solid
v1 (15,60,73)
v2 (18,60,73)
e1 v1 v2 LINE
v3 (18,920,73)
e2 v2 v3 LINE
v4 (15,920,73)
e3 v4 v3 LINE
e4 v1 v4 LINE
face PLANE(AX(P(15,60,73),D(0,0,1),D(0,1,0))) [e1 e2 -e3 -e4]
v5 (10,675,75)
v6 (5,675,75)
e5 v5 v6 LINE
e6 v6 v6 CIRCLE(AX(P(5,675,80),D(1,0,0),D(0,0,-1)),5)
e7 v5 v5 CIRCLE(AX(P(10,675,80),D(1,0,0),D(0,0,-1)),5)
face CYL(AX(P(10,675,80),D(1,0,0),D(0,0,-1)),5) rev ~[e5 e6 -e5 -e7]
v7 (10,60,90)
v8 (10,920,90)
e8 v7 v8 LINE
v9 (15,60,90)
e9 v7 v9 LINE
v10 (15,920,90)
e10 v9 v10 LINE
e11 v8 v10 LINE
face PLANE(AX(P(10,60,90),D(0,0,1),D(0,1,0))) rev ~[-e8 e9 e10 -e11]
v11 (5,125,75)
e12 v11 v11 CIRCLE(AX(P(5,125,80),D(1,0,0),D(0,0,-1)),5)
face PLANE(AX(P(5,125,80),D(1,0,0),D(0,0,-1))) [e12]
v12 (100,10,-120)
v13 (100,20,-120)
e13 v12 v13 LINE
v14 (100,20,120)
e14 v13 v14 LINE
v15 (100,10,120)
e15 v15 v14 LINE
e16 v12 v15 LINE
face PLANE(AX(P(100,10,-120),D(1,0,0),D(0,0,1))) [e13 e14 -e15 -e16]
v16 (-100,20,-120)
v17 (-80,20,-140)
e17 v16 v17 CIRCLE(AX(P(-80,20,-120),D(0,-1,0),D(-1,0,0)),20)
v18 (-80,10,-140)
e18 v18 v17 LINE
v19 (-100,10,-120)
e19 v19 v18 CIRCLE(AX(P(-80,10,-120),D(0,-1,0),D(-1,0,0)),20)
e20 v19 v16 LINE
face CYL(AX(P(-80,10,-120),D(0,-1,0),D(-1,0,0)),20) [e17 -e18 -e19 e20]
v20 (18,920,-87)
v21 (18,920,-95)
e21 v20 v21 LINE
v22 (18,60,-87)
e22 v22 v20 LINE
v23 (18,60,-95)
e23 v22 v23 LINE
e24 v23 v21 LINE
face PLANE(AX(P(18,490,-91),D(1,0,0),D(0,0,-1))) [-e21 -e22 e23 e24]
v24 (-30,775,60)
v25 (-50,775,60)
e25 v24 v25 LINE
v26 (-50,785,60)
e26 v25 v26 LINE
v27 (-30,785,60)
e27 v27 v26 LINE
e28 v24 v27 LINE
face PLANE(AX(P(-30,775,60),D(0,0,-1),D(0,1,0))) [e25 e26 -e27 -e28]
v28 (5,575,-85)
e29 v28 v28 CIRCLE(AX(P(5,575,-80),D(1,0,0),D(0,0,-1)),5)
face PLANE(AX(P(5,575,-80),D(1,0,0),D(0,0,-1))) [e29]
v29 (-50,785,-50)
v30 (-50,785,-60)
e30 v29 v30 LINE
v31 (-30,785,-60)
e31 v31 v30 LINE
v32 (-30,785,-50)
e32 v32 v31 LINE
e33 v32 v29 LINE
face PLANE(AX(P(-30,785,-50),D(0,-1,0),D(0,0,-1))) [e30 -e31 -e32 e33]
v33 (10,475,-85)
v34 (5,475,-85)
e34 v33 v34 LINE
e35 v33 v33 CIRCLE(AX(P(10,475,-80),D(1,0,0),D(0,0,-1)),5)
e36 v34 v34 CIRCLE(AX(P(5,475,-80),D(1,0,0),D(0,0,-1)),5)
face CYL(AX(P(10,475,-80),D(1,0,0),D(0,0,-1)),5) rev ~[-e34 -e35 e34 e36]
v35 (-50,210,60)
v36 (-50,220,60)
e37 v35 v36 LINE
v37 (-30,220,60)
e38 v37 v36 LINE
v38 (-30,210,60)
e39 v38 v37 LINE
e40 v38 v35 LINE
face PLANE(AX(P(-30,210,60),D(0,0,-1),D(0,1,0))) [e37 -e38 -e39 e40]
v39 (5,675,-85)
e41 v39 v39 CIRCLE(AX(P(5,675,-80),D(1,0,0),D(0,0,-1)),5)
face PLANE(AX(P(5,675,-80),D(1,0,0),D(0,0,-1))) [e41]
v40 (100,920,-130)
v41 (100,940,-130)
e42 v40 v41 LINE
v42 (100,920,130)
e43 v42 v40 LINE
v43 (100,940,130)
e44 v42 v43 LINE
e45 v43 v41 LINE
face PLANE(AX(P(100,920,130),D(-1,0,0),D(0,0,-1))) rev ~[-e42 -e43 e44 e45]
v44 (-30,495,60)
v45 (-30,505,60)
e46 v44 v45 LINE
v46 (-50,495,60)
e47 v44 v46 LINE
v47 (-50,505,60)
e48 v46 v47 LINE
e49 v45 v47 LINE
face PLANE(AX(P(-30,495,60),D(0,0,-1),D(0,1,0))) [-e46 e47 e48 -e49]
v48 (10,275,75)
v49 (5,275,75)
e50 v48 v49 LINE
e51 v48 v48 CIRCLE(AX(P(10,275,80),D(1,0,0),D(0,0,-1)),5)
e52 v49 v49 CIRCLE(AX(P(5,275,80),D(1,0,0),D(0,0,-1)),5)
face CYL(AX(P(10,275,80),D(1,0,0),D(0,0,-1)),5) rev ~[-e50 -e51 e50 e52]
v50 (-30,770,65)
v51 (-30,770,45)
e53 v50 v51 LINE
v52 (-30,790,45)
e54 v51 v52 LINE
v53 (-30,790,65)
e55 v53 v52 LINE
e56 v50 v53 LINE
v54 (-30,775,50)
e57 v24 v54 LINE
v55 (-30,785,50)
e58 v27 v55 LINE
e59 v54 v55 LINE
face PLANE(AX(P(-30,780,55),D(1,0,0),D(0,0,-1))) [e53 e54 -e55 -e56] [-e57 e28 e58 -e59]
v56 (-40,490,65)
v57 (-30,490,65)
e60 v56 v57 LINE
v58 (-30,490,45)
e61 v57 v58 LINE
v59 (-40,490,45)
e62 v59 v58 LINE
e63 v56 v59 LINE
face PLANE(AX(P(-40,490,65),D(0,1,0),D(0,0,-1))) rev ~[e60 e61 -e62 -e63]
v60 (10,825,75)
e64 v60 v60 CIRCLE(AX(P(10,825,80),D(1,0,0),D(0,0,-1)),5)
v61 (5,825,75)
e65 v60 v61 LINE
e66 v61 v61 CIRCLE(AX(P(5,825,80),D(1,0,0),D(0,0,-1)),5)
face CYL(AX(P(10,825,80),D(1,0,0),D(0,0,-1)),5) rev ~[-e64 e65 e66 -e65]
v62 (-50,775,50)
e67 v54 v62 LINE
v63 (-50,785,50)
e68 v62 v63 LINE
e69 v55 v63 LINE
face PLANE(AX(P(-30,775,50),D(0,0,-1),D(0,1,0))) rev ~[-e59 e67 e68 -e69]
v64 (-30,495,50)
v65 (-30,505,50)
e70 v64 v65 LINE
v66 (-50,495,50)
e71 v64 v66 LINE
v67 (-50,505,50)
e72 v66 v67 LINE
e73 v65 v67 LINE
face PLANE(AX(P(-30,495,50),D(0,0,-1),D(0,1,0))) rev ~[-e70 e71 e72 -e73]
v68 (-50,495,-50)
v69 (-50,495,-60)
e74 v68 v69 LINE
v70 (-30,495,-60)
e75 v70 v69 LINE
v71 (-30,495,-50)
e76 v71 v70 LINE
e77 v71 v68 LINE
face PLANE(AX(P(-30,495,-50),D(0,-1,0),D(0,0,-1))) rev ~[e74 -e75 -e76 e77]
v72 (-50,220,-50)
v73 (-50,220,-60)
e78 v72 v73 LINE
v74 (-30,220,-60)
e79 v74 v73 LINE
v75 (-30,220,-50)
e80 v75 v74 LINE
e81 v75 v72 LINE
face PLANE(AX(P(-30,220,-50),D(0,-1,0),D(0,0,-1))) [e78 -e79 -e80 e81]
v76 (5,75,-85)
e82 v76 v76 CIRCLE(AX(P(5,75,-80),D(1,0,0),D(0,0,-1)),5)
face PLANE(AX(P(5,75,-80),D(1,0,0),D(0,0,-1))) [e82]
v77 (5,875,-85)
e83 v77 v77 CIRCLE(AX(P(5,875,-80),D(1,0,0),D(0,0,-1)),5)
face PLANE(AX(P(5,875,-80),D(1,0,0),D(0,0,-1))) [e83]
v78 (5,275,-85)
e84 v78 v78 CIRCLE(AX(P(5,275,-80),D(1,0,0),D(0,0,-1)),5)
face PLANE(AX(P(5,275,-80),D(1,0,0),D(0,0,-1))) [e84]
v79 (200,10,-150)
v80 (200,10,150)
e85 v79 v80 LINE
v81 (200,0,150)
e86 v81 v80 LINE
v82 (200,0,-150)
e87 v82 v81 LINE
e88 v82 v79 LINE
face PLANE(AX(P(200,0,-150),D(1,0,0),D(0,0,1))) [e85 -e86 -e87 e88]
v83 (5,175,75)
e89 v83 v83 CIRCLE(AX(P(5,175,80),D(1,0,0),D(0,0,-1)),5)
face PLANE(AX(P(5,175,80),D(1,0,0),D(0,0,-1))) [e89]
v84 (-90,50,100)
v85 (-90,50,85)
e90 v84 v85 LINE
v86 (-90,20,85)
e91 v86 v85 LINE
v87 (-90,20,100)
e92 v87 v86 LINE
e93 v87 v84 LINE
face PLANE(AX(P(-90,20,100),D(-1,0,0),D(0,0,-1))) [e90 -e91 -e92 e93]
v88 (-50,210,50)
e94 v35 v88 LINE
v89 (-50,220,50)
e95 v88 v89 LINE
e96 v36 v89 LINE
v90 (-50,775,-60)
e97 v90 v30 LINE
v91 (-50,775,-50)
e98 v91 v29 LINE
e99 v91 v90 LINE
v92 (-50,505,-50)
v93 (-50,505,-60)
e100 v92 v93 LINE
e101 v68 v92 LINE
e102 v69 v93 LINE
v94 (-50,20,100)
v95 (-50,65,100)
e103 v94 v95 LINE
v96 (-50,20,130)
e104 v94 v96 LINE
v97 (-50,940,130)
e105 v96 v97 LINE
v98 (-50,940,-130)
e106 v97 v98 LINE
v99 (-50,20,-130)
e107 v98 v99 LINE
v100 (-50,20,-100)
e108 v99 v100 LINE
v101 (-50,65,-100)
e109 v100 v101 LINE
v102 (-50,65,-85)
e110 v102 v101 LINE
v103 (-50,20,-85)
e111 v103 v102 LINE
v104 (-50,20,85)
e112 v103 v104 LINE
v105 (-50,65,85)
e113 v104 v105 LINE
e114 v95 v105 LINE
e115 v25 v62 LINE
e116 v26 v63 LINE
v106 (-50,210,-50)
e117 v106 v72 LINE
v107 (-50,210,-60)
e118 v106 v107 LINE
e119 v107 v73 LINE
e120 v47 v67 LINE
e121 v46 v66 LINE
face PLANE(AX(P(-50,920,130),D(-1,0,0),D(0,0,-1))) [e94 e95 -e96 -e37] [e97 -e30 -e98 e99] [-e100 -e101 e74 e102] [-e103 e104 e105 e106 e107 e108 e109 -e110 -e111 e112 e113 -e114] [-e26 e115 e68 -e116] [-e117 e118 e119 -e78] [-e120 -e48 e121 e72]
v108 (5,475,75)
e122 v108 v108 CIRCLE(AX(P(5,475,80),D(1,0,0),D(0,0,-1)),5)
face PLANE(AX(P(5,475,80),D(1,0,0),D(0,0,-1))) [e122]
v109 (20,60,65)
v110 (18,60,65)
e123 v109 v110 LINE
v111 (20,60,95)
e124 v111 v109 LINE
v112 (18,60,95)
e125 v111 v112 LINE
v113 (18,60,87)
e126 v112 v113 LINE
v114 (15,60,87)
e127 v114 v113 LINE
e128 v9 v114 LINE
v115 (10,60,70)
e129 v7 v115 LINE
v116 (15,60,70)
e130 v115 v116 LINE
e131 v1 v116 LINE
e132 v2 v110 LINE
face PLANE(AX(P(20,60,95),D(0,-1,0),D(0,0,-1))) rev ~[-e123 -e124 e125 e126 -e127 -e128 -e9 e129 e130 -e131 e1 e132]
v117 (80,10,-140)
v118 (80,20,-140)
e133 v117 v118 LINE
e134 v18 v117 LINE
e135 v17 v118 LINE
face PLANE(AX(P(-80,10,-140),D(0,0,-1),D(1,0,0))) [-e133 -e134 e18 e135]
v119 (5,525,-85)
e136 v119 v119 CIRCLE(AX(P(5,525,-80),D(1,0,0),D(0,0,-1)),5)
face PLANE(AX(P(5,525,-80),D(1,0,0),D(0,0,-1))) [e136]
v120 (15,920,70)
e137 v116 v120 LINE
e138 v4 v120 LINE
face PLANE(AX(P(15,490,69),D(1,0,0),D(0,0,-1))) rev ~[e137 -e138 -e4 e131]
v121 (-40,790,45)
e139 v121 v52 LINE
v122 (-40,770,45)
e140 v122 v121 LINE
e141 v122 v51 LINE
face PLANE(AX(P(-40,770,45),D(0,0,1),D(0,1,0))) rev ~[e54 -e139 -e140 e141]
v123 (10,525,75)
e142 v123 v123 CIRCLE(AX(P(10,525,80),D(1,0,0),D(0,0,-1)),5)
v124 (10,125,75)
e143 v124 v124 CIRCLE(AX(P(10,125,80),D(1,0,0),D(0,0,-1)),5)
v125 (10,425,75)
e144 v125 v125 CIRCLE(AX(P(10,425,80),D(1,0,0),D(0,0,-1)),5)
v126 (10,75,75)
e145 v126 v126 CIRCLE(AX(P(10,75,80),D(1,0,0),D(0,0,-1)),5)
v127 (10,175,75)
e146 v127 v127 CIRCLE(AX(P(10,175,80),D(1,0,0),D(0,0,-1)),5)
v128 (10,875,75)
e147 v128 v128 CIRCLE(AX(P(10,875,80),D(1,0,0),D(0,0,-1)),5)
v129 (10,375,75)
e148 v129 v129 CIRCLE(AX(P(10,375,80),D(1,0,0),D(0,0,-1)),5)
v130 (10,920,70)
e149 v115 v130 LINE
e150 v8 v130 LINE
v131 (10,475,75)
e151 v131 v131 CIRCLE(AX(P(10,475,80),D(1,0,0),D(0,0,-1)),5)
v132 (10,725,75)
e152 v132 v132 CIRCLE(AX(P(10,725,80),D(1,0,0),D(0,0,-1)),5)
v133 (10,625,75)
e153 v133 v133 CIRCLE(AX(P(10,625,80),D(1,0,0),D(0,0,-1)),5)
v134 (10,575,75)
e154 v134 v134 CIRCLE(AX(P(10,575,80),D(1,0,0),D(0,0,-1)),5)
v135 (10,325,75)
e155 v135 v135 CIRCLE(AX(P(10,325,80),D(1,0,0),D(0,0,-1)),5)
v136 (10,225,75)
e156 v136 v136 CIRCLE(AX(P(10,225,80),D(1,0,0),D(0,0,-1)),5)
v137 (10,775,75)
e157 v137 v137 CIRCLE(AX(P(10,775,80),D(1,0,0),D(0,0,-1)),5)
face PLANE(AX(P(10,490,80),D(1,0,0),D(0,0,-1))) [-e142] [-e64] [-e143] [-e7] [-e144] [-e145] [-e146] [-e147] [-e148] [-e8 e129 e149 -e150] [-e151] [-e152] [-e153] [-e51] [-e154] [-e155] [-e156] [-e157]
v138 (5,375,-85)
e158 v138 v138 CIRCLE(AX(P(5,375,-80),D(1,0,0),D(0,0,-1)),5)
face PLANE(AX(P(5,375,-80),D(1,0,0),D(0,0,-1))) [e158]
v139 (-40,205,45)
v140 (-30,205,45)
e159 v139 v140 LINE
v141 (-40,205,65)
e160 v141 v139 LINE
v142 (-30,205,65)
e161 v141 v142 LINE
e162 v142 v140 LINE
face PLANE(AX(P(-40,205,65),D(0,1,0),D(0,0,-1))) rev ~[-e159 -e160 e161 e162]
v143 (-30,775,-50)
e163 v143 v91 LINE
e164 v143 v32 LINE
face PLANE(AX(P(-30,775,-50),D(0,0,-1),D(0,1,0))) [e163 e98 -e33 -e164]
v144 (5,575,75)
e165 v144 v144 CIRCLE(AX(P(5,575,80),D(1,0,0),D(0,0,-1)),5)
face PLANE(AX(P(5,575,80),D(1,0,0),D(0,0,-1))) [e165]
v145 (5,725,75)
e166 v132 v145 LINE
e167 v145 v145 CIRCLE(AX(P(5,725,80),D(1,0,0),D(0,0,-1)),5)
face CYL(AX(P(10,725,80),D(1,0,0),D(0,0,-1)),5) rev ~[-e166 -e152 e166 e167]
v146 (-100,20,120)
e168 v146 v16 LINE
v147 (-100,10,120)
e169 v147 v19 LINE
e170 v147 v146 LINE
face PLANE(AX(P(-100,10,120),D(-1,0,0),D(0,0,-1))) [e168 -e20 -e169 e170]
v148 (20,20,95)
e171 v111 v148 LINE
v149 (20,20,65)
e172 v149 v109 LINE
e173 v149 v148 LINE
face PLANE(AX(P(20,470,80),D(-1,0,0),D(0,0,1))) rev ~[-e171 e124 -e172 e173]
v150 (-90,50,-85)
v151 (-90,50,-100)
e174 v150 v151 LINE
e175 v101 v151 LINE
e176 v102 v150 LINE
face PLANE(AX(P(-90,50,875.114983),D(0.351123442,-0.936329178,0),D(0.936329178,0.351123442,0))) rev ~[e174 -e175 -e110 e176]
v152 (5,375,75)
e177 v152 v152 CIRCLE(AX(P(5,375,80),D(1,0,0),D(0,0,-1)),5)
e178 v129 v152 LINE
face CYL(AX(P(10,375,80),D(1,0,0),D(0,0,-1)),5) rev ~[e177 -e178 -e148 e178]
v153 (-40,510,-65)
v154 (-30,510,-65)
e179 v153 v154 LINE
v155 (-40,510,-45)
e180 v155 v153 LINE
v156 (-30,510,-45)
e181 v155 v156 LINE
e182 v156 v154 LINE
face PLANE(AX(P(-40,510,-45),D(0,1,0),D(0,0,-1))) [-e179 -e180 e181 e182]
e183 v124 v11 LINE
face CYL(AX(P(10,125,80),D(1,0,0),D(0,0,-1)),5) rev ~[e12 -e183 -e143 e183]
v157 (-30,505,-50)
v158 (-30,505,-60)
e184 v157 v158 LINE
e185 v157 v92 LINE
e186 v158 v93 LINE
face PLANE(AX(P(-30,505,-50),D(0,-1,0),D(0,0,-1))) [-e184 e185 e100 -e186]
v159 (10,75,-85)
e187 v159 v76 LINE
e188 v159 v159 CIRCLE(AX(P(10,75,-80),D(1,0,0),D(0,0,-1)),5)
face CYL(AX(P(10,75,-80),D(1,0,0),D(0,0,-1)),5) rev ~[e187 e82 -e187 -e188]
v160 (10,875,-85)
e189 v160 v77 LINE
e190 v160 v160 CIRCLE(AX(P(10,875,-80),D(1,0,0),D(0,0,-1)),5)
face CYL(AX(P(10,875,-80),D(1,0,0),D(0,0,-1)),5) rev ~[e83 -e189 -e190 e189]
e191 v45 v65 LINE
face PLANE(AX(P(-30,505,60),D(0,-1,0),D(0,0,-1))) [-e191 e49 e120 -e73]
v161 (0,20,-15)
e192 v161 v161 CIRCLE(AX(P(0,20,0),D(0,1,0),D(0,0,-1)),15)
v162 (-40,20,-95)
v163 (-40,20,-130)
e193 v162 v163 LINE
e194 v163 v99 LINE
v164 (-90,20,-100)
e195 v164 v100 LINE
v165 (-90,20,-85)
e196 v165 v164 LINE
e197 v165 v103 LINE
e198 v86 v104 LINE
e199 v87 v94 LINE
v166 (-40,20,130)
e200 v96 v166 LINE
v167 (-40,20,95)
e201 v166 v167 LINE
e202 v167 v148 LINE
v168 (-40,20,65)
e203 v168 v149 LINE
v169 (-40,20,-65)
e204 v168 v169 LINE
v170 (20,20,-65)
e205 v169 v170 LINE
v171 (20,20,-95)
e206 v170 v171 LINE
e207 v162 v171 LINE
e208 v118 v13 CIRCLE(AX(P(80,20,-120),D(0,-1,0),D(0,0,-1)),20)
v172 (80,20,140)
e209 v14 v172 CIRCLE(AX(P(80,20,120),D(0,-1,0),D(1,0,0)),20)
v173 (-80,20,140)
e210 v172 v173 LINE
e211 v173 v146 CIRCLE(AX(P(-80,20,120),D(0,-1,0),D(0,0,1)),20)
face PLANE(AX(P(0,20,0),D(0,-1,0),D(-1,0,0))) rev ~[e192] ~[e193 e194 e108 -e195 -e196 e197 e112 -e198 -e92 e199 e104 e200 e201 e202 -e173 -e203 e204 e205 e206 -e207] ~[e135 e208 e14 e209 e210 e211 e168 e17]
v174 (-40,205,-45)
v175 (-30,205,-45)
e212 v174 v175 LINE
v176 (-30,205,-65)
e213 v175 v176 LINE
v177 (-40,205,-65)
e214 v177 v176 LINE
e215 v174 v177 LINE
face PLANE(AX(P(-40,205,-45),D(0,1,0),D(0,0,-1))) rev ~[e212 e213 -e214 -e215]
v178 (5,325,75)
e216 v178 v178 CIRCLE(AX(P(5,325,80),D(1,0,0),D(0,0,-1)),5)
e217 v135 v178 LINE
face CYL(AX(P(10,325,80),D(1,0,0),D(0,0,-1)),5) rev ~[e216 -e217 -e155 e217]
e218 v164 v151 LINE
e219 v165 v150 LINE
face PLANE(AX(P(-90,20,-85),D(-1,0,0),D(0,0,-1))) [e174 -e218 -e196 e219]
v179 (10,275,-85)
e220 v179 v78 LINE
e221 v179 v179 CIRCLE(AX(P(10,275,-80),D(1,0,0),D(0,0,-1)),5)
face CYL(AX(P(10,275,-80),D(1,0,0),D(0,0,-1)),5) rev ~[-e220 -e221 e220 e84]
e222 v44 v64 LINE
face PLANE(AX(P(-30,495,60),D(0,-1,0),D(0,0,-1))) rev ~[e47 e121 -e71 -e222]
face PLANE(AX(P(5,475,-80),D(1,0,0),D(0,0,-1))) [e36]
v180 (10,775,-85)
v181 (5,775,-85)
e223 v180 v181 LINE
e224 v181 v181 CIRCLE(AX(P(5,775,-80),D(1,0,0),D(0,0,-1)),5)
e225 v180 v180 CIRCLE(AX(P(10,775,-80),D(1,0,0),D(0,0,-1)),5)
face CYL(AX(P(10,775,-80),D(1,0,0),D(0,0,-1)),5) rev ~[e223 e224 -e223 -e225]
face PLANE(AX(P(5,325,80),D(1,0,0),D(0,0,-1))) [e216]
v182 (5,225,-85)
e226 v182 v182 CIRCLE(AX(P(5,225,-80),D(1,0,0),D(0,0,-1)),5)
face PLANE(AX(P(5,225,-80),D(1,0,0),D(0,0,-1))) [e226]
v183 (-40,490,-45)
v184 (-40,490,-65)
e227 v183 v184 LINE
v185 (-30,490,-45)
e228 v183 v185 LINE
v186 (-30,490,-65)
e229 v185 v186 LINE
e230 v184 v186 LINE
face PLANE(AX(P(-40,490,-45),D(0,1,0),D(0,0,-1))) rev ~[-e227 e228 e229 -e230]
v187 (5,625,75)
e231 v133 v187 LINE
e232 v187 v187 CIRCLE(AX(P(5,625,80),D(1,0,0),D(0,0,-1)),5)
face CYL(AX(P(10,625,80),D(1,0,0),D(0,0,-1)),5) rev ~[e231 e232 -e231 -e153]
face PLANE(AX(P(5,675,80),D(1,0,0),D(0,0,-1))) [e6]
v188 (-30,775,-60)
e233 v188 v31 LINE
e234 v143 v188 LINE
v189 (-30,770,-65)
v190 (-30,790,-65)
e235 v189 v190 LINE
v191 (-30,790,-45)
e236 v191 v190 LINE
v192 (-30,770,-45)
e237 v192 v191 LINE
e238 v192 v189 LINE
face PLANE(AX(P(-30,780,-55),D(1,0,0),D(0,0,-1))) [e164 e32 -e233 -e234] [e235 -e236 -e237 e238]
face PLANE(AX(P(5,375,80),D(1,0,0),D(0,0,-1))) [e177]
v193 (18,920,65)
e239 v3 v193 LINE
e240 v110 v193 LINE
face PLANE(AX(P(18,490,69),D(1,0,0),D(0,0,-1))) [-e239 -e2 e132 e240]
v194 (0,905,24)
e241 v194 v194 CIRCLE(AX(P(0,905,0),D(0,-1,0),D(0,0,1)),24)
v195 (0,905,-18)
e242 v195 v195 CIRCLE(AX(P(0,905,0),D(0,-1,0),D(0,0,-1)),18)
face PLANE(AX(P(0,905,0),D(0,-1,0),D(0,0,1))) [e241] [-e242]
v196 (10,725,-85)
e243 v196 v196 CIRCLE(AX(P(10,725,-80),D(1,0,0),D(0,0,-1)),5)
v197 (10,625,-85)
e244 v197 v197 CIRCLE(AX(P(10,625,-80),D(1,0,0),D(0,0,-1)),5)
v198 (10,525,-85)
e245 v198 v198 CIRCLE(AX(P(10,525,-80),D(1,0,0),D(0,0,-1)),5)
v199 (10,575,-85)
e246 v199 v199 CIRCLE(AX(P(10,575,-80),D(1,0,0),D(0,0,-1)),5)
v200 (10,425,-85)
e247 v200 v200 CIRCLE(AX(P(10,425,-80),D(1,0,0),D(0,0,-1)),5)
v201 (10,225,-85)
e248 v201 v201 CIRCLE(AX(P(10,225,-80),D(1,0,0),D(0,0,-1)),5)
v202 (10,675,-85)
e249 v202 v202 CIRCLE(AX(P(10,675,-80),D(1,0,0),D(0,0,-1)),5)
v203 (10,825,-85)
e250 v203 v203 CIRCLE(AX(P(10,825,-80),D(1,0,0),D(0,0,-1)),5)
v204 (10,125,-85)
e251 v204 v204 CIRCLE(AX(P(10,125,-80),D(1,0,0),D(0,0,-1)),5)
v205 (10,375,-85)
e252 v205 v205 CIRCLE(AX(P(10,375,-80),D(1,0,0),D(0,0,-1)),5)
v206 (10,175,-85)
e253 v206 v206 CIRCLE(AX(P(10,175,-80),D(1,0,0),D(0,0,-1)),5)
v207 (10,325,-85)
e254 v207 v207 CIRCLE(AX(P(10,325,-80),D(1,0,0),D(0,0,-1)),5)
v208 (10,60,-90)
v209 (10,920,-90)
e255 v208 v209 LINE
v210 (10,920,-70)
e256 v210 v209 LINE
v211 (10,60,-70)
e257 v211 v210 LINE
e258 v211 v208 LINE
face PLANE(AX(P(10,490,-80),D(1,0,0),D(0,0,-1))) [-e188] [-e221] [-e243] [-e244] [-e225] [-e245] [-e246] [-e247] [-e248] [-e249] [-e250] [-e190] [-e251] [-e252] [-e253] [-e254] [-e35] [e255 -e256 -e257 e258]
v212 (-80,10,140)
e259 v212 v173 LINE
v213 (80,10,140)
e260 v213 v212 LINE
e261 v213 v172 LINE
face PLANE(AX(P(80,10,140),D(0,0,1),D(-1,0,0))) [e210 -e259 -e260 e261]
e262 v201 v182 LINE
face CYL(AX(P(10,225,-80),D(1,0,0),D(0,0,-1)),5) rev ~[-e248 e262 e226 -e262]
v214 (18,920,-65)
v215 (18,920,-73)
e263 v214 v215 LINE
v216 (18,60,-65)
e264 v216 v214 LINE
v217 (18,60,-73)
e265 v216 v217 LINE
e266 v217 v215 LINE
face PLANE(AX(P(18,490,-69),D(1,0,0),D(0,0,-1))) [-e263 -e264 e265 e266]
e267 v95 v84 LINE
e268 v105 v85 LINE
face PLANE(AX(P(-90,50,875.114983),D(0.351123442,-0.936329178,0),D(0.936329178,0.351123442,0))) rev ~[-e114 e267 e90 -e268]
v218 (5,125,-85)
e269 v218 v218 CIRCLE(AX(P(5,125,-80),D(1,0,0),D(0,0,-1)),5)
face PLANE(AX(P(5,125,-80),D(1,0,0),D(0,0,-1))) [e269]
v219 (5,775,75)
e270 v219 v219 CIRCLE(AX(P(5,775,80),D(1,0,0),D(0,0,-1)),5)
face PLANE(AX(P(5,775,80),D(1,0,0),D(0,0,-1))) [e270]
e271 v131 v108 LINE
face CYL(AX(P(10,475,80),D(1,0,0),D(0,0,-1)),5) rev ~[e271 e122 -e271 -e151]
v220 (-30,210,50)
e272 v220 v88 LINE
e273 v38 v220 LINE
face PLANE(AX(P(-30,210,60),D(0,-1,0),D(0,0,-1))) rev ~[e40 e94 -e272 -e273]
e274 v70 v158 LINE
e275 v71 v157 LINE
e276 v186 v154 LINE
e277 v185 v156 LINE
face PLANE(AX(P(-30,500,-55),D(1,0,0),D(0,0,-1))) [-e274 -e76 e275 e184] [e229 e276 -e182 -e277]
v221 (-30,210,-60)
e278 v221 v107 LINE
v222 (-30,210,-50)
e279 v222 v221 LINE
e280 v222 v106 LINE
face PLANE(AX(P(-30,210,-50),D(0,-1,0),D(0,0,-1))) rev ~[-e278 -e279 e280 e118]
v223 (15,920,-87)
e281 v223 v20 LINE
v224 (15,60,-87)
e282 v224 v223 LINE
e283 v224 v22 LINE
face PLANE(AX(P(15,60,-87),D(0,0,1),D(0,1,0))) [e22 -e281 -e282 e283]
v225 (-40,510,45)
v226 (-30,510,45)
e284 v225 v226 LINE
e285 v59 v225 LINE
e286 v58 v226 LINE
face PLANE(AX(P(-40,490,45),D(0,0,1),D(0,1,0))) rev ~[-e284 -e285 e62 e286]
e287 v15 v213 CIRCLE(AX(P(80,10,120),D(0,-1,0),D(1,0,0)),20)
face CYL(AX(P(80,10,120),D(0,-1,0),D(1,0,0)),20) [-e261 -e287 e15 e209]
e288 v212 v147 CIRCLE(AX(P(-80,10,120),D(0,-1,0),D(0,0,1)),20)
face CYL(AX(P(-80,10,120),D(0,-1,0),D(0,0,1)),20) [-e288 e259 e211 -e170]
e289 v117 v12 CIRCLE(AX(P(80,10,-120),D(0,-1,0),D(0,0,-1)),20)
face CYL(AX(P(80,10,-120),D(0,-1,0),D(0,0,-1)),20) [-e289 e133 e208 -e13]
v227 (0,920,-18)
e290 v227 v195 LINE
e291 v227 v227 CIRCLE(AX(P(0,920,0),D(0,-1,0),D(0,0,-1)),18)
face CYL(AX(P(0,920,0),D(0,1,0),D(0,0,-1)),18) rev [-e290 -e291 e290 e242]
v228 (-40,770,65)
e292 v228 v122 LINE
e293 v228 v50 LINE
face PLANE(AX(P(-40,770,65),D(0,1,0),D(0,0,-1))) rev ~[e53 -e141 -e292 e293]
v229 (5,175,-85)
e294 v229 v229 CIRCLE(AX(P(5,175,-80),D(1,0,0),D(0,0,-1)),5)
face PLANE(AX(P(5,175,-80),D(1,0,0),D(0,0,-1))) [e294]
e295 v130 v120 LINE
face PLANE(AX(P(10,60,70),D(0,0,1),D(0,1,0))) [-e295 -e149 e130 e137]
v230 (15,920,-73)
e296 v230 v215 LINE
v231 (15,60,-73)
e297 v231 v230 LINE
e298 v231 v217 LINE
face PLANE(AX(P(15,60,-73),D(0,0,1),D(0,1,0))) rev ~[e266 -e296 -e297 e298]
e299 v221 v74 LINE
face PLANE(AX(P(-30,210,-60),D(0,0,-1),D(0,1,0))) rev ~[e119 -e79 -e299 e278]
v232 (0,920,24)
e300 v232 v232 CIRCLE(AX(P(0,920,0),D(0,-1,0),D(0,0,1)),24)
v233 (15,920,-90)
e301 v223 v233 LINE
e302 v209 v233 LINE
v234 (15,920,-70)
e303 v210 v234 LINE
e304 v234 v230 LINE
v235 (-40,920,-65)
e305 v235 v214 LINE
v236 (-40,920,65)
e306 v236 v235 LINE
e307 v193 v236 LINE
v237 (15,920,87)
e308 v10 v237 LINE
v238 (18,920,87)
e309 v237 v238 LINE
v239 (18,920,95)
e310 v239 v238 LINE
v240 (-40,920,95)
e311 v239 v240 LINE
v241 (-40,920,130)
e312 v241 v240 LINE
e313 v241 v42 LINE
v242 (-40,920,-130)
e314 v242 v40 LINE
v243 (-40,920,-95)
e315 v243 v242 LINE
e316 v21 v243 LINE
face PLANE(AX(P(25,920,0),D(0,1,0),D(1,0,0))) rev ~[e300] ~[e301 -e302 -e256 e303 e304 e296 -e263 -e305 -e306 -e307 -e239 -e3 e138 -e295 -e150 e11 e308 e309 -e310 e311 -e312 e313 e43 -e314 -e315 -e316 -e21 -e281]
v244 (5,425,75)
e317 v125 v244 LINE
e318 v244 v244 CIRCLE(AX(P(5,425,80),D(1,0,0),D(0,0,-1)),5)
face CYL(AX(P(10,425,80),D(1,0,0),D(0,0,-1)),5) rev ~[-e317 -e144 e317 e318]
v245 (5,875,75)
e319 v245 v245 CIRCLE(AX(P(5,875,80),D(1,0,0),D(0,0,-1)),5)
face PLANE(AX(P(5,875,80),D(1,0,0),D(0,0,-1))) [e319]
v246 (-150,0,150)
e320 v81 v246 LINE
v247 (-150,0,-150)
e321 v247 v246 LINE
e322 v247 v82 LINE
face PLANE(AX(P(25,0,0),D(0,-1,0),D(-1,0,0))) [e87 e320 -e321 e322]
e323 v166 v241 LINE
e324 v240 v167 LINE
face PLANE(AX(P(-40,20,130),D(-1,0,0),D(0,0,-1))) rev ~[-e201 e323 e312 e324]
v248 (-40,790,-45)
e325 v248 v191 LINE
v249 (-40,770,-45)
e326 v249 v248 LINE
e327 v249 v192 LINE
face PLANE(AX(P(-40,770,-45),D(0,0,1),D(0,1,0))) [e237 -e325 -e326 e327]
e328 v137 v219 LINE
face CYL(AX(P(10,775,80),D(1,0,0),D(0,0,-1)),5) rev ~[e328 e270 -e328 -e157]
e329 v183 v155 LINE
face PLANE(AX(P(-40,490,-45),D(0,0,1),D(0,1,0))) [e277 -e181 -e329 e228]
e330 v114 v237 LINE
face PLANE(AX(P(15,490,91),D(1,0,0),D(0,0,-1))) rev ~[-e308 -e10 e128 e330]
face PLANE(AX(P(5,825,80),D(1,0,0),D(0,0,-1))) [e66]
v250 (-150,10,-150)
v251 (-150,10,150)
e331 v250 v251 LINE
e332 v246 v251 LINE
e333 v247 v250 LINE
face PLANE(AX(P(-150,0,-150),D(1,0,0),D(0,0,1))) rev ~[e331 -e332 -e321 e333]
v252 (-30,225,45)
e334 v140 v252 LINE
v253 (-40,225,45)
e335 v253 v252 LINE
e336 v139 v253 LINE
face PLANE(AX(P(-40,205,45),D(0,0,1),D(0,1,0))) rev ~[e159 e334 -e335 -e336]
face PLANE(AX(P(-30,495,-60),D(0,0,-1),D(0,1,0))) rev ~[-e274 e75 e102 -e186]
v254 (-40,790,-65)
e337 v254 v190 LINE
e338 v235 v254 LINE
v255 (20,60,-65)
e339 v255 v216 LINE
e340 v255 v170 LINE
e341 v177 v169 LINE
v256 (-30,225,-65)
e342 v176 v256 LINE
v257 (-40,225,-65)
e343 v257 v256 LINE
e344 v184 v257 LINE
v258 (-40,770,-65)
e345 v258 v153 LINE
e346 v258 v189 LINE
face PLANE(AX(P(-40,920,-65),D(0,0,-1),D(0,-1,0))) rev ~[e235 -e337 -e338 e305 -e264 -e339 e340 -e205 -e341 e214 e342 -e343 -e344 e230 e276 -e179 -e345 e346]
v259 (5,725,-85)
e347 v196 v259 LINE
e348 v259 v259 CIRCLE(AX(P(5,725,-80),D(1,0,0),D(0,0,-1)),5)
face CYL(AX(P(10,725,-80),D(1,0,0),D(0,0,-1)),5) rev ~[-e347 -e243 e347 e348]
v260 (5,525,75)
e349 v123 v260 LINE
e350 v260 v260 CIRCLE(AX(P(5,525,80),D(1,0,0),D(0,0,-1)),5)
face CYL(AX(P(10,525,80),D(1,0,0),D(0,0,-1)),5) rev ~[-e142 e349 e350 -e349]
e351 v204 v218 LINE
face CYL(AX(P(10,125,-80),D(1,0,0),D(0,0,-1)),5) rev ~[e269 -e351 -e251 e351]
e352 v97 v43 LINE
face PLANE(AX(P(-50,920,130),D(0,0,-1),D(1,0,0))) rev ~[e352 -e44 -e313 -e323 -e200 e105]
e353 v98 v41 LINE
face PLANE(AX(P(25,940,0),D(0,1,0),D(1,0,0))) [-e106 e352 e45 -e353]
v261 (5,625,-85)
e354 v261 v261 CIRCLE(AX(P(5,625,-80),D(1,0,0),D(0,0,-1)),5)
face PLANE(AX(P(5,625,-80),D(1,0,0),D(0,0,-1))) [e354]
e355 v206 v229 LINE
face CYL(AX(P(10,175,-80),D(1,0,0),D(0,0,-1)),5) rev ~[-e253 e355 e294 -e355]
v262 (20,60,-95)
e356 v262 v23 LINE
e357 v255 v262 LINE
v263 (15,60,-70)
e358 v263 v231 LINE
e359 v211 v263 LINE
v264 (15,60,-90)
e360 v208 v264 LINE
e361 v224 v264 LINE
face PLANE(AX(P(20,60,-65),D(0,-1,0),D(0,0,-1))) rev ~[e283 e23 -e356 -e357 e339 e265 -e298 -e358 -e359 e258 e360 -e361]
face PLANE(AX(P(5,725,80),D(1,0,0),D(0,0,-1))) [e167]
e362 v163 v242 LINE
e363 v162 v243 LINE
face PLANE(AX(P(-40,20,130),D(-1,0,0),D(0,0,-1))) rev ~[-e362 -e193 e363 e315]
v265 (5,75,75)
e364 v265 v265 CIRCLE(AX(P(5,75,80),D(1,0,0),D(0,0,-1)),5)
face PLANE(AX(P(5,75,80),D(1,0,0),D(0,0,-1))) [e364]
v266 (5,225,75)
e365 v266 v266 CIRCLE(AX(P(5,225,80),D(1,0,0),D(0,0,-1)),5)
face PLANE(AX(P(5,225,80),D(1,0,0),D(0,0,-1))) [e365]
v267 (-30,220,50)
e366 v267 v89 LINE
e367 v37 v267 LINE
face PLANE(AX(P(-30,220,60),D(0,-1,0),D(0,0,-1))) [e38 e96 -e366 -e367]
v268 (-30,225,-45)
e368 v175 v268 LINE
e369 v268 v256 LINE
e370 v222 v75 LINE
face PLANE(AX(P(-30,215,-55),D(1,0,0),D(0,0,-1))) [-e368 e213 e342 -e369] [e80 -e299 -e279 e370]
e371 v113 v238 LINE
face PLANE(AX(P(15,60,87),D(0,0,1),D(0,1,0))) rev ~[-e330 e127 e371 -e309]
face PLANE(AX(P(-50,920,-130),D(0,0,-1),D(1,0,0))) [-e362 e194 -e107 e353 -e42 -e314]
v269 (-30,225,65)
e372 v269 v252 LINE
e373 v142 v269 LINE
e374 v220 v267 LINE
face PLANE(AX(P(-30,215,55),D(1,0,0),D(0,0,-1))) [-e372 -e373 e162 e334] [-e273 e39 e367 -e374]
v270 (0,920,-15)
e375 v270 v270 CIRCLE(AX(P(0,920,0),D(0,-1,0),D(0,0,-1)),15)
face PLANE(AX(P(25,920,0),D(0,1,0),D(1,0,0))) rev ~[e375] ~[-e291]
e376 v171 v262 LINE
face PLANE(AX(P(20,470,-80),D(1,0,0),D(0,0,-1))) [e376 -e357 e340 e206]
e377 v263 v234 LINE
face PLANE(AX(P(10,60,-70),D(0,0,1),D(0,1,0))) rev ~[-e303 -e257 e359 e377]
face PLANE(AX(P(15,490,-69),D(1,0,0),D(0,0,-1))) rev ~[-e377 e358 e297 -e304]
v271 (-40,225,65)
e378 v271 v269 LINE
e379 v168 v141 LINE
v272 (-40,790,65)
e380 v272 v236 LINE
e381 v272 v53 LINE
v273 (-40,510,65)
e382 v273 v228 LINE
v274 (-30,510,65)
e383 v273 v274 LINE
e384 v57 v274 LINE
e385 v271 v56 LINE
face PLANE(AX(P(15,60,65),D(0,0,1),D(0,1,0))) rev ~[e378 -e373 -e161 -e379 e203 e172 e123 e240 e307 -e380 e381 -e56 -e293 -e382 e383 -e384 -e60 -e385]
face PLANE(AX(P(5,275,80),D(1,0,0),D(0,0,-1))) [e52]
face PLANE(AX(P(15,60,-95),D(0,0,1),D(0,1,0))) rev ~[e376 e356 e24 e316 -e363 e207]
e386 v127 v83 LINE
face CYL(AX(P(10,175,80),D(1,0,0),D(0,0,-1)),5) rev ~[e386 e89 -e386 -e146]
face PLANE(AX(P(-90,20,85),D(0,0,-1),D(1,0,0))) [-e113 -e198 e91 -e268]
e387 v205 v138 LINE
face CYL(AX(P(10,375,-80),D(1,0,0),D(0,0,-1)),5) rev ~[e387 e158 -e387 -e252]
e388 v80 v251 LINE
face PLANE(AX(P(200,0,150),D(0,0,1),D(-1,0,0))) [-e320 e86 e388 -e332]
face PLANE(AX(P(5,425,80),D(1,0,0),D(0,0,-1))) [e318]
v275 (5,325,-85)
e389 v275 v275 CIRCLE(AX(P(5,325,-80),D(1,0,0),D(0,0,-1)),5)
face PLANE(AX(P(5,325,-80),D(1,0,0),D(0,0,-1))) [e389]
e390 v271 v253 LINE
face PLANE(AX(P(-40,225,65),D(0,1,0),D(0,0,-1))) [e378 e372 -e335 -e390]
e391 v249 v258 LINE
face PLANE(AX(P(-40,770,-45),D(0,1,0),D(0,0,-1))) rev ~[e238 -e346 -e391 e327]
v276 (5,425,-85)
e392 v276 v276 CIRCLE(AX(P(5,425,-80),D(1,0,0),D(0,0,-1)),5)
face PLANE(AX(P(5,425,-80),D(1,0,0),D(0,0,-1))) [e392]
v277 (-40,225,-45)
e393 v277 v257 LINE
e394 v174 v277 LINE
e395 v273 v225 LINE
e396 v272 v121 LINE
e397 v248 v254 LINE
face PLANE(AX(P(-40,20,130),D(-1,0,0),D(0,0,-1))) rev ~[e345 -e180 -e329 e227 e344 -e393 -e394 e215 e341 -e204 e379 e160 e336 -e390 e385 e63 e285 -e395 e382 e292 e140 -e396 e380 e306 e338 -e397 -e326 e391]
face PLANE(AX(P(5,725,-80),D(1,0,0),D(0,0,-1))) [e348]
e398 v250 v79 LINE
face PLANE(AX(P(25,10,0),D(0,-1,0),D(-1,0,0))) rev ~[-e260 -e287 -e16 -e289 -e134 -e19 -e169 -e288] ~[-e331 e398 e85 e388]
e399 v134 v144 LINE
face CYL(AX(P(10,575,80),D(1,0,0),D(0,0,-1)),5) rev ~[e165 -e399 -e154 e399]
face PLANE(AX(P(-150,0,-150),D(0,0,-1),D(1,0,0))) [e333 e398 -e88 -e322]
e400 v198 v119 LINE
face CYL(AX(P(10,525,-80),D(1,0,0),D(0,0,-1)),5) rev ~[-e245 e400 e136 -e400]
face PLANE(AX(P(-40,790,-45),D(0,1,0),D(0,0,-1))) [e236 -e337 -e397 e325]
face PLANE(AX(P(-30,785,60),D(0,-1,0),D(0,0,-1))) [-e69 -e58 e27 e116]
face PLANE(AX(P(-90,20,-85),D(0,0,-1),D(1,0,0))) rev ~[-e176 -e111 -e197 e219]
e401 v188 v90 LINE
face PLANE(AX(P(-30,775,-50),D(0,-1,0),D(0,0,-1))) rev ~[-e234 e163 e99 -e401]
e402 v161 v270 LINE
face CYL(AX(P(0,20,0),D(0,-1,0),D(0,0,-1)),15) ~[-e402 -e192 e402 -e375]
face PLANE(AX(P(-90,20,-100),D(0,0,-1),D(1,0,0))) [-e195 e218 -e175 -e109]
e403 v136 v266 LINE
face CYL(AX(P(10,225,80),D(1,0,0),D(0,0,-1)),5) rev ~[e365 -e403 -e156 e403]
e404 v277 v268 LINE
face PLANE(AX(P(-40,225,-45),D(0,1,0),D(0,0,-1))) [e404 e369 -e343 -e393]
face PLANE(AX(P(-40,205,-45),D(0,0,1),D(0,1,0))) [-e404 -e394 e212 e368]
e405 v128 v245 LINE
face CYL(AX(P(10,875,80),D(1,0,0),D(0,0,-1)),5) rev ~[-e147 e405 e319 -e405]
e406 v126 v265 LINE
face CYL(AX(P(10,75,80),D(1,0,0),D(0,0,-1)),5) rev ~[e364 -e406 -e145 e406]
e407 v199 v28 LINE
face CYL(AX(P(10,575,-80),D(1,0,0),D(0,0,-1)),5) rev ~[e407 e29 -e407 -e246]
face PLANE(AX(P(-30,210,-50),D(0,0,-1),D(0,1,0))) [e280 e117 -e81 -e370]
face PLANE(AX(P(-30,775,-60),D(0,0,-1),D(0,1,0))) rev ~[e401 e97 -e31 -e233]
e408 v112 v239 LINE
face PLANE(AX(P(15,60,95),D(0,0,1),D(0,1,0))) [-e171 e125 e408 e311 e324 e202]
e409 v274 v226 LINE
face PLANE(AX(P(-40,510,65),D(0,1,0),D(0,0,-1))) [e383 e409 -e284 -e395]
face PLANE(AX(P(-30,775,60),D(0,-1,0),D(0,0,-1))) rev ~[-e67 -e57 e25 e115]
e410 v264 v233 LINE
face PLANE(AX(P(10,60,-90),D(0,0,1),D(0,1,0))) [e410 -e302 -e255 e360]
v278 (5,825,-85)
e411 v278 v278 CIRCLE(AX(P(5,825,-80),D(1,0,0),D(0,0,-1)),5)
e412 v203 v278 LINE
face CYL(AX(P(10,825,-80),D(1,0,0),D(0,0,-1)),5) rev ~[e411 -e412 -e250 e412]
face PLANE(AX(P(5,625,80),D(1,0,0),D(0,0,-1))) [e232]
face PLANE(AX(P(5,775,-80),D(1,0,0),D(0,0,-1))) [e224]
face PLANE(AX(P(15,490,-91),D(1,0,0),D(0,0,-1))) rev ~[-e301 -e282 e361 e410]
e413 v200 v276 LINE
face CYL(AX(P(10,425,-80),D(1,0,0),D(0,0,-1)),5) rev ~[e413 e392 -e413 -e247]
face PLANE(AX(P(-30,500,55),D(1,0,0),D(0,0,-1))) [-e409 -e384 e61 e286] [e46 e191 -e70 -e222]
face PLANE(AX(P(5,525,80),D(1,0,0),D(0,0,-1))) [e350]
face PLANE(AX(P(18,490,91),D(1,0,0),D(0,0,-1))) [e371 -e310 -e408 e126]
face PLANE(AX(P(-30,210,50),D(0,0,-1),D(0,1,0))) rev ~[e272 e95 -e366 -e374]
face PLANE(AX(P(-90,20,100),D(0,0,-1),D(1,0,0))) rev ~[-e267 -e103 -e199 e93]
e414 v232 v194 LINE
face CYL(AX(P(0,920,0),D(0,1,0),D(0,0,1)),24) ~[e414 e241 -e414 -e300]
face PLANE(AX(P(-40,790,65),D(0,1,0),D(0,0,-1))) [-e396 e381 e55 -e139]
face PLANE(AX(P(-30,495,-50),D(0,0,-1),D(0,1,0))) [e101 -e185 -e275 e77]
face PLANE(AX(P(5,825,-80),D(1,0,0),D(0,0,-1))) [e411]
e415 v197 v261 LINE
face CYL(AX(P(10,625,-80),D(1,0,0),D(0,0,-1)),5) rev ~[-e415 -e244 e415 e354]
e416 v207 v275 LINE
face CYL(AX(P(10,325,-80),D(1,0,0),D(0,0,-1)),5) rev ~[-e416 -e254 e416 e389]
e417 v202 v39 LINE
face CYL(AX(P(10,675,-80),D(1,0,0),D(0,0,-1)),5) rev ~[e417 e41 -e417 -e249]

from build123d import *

# Parameters (mm, degrees)
EXTRUDE_1_DEPTH          = 10
EXTRUDE_2_DEPTH          = 10
EXTRUDE_3_DEPTH          = 900
SKETCH_4_W               = 40
SKETCH_4_H               = 15
EXTRUDE_4_DEPTH          = 45
CUT_EXTRUDE_1_DEPTH      = 975.114982946
CUT_EXTRUDE_1_DEPTH_BACK = 975.114982946
SKETCH_6_W               = 150
SKETCH_6_H               = 260
EXTRUDE_5_DEPTH          = 20
EXTRUDE_6_DEPTH          = 60
EXTRUDE_7_REACH          = 955.362
SKETCH_8_R               = 15
SKETCH_11_R              = 24
SKETCH_11_R_2            = 18
EXTRUDE_10_DEPTH         = 15
SKETCH_12_W              = 30
SKETCH_12_H              = 860
CUT_EXTRUDE_3_DEPTH      = 10
SKETCH_13_W              = 5
SKETCH_13_H              = 860
EXTRUDE_11_DEPTH         = 5
SKETCH_14_W              = 8
SKETCH_14_H              = 860
EXTRUDE_12_DEPTH         = 3
SKETCH_17_R              = 5
CUT_EXTRUDE_4_DEPTH      = 5
SKETCH_20_W              = 20
SKETCH_20_H              = 20
EXTRUDE_13_DEPTH         = 10
SKETCH_23_W              = 10
SKETCH_23_H              = 10
CUT_EXTRUDE_8_DEPTH      = 20


with BuildPart() as part:
    # 草图1 → 凸台-拉伸1 (new body)
    with BuildSketch(Plane(origin=(0, 0, 0), x_dir=(1, 0, 0), z_dir=(0, 1, 0))):
        Polygon((-150, 50), (-150, 150), (200, 150), (200, -150), (-150, -150), align=None)
    extrude(amount=EXTRUDE_1_DEPTH)

    # 草图2 → 凸台-拉伸2 (add)
    with BuildSketch(Plane(origin=(0, 10, 0), x_dir=(1, 0, 0), z_dir=(0, 1, 0))):
        with BuildLine():
            Line((-100, -20), (-100, 120))
            ThreePointArc((-100, 120), (-94.142135624, 134.142135624), (-80, 140))
            Line((-80, 140), (80, 140))
            ThreePointArc((80, 140), (94.142135624, 134.142135624), (100, 120))
            Line((100, 120), (100, -120))
            ThreePointArc((100, -120), (94.142135624, -134.142135624), (80, -140))
            Line((80, -140), (-80, -140))
            ThreePointArc((-80, -140), (-94.142135624, -134.142135624), (-100, -120))
            Line((-100, -120), (-100, -20))
        make_face()
    extrude(amount=EXTRUDE_2_DEPTH)

    # 草图3 → 凸台-拉伸3 (add)
    with BuildSketch(Plane(origin=(0, 20, 0), x_dir=(1, 0, 0), z_dir=(0, 1, 0))):
        Polygon((-50, 100), (-50, -100), (-50, -130), (-40, -130), (-40, 130), (-50, 130), align=None)
    extrude(amount=EXTRUDE_3_DEPTH)

    # 草图4 → 凸台-拉伸4 (add)
    with BuildSketch(Plane(origin=(0, 20, 0), x_dir=(1, 0, 0), z_dir=(0, 1, 0))):
        with Locations((-70, -92.5)):
            Rectangle(SKETCH_4_W, SKETCH_4_H)
        with Locations((-70, 92.5)):
            Rectangle(SKETCH_4_W, SKETCH_4_H)
    extrude(amount=EXTRUDE_4_DEPTH)

    # 草图5 → 切除-拉伸1 (cut, two sides: drawn at the far end of the back side and taken through both)
    with BuildSketch(Plane(origin=(0, 0, -100), x_dir=(-1, 0, 0), z_dir=(0, 0, -1)).offset(-CUT_EXTRUDE_1_DEPTH_BACK)):
        Polygon((90, 65), (90, 50), (50, 65), align=None)
    extrude(amount=CUT_EXTRUDE_1_DEPTH + CUT_EXTRUDE_1_DEPTH_BACK, mode=Mode.SUBTRACT)

    # 草图6 → 凸台-拉伸5 (add)
    with BuildSketch(Plane(origin=(0, 920, 0), x_dir=(1, 0, 0), z_dir=(0, 1, 0))):
        with Locations((25, 0)):
            Rectangle(SKETCH_6_W, SKETCH_6_H)
    extrude(amount=EXTRUDE_5_DEPTH)

    # 草图7 → 凸台-拉伸6 (add)
    with BuildSketch(Plane(origin=(-40, 0, 0), x_dir=(0, 0, -1), z_dir=(1, 0, 0))):
        Polygon((-95, 920), (-65, 920), (-65, 60), (-65, 20), (-95, 20), (-95, 60), align=None)
        Polygon((95, 920), (65, 920), (65, 60), (65, 20), (95, 20), (95, 60), align=None)
    extrude(amount=EXTRUDE_6_DEPTH)

    # 草图8 → 凸台-拉伸7 (add, up to next)
    with BuildSketch(Plane(origin=(0, 20, 0), x_dir=(1, 0, 0), z_dir=(0, 1, 0)), mode=Mode.PRIVATE) as extrude_7_sk1:
        with Locations(Location((0, 0, 0), (0, 0, 90))):
            Circle(SKETCH_8_R)
    extrude_7_tool1 = extrude(extrude_7_sk1.sketch, amount=EXTRUDE_7_REACH, mode=Mode.PRIVATE) - part.part
    add(extrude_7_tool1.solids().sort_by_distance((0, 20, 0))[0])

    # 草图11 → 凸台-拉伸10 (add)
    with BuildSketch(Plane.XZ.offset(-920)):
        with Locations(Location((0, 0, 0), (0, 0, 90))):
            Circle(SKETCH_11_R)
        with Locations(Location((0, 0, 0), (0, 0, 270))):
            Circle(SKETCH_11_R_2, mode=Mode.SUBTRACT)
    extrude(amount=EXTRUDE_10_DEPTH)

    # 草图12 → 切除-拉伸3 (cut)
    with BuildSketch(Plane(origin=(20, 0, 0), x_dir=(0, 0, -1), z_dir=(1, 0, 0))):
        with Locations((80, 490)):
            Rectangle(SKETCH_12_W, SKETCH_12_H)
        with Locations((-80, 490)):
            Rectangle(SKETCH_12_W, SKETCH_12_H)
    extrude(amount=-CUT_EXTRUDE_3_DEPTH, mode=Mode.SUBTRACT)

    # 草图13 → 凸台-拉伸11 (add)
    with BuildSketch(Plane(origin=(10, 0, 0), x_dir=(0, 0, -1), z_dir=(1, 0, 0))):
        with Locations((-92.5, 490)):
            Rectangle(SKETCH_13_W, SKETCH_13_H)
        with Locations((-67.5, 490)):
            Rectangle(SKETCH_13_W, SKETCH_13_H)
        with Locations((67.5, 490)):
            Rectangle(SKETCH_13_W, SKETCH_13_H)
        with Locations((92.5, 490)):
            Rectangle(SKETCH_13_W, SKETCH_13_H)
    extrude(amount=EXTRUDE_11_DEPTH)

    # 草图14 → 凸台-拉伸12 (add)
    with BuildSketch(Plane(origin=(15, 0, 0), x_dir=(0, 0, -1), z_dir=(1, 0, 0))):
        with Locations((-91, 490)):
            Rectangle(SKETCH_14_W, SKETCH_14_H)
        with Locations((-69, 490)):
            Rectangle(SKETCH_14_W, SKETCH_14_H)
        with Locations((69, 490)):
            Rectangle(SKETCH_14_W, SKETCH_14_H)
        with Locations((91, 490)):
            Rectangle(SKETCH_14_W, SKETCH_14_H)
    extrude(amount=EXTRUDE_12_DEPTH)

    # 草图17 → 切除-拉伸4 (cut)
    with BuildSketch(Plane(origin=(10, 0, 0), x_dir=(0, 0, -1), z_dir=(1, 0, 0))):
        with Locations((-80, 675)):
            Circle(SKETCH_17_R)
        with Locations((-80, 625)):
            Circle(SKETCH_17_R)
        with Locations((-80, 575)):
            Circle(SKETCH_17_R)
        with Locations((-80, 525)):
            Circle(SKETCH_17_R)
        with Locations((-80, 475)):
            Circle(SKETCH_17_R)
        with Locations((-80, 425)):
            Circle(SKETCH_17_R)
        with Locations((-80, 375)):
            Circle(SKETCH_17_R)
        with Locations((-80, 325)):
            Circle(SKETCH_17_R)
        with Locations((-80, 275)):
            Circle(SKETCH_17_R)
        with Locations((-80, 225)):
            Circle(SKETCH_17_R)
        with Locations((-80, 175)):
            Circle(SKETCH_17_R)
        with Locations((-80, 125)):
            Circle(SKETCH_17_R)
        with Locations((-80, 75)):
            Circle(SKETCH_17_R)
        with Locations((80, 675)):
            Circle(SKETCH_17_R)
        with Locations((80, 625)):
            Circle(SKETCH_17_R)
        with Locations((80, 575)):
            Circle(SKETCH_17_R)
        with Locations((80, 525)):
            Circle(SKETCH_17_R)
        with Locations((80, 475)):
            Circle(SKETCH_17_R)
        with Locations((80, 425)):
            Circle(SKETCH_17_R)
        with Locations((80, 375)):
            Circle(SKETCH_17_R)
        with Locations((80, 325)):
            Circle(SKETCH_17_R)
        with Locations((80, 275)):
            Circle(SKETCH_17_R)
        with Locations((80, 225)):
            Circle(SKETCH_17_R)
        with Locations((80, 175)):
            Circle(SKETCH_17_R)
        with Locations((80, 125)):
            Circle(SKETCH_17_R)
        with Locations((80, 75)):
            Circle(SKETCH_17_R)
        with Locations((-80, 725)):
            Circle(SKETCH_17_R)
        with Locations((-80, 775)):
            Circle(SKETCH_17_R)
        with Locations((-80, 825)):
            Circle(SKETCH_17_R)
        with Locations((-80, 875)):
            Circle(SKETCH_17_R)
        with Locations((80, 725)):
            Circle(SKETCH_17_R)
        with Locations((80, 775)):
            Circle(SKETCH_17_R)
        with Locations((80, 825)):
            Circle(SKETCH_17_R)
        with Locations((80, 875)):
            Circle(SKETCH_17_R)
    extrude(amount=-CUT_EXTRUDE_4_DEPTH, mode=Mode.SUBTRACT)

    # 草图20 → 凸台-拉伸13 (add)
    with BuildSketch(Plane(origin=(-40, 0, 0), x_dir=(0, 0, -1), z_dir=(1, 0, 0))):
        with Locations((-55, 215)):
            Rectangle(SKETCH_20_W, SKETCH_20_H)
        with Locations((55, 215)):
            Rectangle(SKETCH_20_W, SKETCH_20_H)
        with Locations((-55, 500)):
            Rectangle(SKETCH_20_W, SKETCH_20_H)
        with Locations((-55, 780)):
            Rectangle(SKETCH_20_W, SKETCH_20_H)
        with Locations((55, 500)):
            Rectangle(SKETCH_20_W, SKETCH_20_H)
        with Locations((55, 780)):
            Rectangle(SKETCH_20_W, SKETCH_20_H)
    extrude(amount=EXTRUDE_13_DEPTH)

    # 草图23 → 切除-拉伸8 (cut)
    with BuildSketch(Plane(origin=(-30, 0, 0), x_dir=(0, 0, -1), z_dir=(1, 0, 0))):
        with Locations((-55, 780)):
            Rectangle(SKETCH_23_W, SKETCH_23_H)
        with Locations((-55, 500)):
            Rectangle(SKETCH_23_W, SKETCH_23_H)
        with Locations((-55, 215)):
            Rectangle(SKETCH_23_W, SKETCH_23_H)
        with Locations((55, 215)):
            Rectangle(SKETCH_23_W, SKETCH_23_H)
        with Locations((55, 500)):
            Rectangle(SKETCH_23_W, SKETCH_23_H)
        with Locations((55, 780)):
            Rectangle(SKETCH_23_W, SKETCH_23_H)
    extrude(amount=-CUT_EXTRUDE_8_DEPTH, mode=Mode.SUBTRACT)


solid = part.part
